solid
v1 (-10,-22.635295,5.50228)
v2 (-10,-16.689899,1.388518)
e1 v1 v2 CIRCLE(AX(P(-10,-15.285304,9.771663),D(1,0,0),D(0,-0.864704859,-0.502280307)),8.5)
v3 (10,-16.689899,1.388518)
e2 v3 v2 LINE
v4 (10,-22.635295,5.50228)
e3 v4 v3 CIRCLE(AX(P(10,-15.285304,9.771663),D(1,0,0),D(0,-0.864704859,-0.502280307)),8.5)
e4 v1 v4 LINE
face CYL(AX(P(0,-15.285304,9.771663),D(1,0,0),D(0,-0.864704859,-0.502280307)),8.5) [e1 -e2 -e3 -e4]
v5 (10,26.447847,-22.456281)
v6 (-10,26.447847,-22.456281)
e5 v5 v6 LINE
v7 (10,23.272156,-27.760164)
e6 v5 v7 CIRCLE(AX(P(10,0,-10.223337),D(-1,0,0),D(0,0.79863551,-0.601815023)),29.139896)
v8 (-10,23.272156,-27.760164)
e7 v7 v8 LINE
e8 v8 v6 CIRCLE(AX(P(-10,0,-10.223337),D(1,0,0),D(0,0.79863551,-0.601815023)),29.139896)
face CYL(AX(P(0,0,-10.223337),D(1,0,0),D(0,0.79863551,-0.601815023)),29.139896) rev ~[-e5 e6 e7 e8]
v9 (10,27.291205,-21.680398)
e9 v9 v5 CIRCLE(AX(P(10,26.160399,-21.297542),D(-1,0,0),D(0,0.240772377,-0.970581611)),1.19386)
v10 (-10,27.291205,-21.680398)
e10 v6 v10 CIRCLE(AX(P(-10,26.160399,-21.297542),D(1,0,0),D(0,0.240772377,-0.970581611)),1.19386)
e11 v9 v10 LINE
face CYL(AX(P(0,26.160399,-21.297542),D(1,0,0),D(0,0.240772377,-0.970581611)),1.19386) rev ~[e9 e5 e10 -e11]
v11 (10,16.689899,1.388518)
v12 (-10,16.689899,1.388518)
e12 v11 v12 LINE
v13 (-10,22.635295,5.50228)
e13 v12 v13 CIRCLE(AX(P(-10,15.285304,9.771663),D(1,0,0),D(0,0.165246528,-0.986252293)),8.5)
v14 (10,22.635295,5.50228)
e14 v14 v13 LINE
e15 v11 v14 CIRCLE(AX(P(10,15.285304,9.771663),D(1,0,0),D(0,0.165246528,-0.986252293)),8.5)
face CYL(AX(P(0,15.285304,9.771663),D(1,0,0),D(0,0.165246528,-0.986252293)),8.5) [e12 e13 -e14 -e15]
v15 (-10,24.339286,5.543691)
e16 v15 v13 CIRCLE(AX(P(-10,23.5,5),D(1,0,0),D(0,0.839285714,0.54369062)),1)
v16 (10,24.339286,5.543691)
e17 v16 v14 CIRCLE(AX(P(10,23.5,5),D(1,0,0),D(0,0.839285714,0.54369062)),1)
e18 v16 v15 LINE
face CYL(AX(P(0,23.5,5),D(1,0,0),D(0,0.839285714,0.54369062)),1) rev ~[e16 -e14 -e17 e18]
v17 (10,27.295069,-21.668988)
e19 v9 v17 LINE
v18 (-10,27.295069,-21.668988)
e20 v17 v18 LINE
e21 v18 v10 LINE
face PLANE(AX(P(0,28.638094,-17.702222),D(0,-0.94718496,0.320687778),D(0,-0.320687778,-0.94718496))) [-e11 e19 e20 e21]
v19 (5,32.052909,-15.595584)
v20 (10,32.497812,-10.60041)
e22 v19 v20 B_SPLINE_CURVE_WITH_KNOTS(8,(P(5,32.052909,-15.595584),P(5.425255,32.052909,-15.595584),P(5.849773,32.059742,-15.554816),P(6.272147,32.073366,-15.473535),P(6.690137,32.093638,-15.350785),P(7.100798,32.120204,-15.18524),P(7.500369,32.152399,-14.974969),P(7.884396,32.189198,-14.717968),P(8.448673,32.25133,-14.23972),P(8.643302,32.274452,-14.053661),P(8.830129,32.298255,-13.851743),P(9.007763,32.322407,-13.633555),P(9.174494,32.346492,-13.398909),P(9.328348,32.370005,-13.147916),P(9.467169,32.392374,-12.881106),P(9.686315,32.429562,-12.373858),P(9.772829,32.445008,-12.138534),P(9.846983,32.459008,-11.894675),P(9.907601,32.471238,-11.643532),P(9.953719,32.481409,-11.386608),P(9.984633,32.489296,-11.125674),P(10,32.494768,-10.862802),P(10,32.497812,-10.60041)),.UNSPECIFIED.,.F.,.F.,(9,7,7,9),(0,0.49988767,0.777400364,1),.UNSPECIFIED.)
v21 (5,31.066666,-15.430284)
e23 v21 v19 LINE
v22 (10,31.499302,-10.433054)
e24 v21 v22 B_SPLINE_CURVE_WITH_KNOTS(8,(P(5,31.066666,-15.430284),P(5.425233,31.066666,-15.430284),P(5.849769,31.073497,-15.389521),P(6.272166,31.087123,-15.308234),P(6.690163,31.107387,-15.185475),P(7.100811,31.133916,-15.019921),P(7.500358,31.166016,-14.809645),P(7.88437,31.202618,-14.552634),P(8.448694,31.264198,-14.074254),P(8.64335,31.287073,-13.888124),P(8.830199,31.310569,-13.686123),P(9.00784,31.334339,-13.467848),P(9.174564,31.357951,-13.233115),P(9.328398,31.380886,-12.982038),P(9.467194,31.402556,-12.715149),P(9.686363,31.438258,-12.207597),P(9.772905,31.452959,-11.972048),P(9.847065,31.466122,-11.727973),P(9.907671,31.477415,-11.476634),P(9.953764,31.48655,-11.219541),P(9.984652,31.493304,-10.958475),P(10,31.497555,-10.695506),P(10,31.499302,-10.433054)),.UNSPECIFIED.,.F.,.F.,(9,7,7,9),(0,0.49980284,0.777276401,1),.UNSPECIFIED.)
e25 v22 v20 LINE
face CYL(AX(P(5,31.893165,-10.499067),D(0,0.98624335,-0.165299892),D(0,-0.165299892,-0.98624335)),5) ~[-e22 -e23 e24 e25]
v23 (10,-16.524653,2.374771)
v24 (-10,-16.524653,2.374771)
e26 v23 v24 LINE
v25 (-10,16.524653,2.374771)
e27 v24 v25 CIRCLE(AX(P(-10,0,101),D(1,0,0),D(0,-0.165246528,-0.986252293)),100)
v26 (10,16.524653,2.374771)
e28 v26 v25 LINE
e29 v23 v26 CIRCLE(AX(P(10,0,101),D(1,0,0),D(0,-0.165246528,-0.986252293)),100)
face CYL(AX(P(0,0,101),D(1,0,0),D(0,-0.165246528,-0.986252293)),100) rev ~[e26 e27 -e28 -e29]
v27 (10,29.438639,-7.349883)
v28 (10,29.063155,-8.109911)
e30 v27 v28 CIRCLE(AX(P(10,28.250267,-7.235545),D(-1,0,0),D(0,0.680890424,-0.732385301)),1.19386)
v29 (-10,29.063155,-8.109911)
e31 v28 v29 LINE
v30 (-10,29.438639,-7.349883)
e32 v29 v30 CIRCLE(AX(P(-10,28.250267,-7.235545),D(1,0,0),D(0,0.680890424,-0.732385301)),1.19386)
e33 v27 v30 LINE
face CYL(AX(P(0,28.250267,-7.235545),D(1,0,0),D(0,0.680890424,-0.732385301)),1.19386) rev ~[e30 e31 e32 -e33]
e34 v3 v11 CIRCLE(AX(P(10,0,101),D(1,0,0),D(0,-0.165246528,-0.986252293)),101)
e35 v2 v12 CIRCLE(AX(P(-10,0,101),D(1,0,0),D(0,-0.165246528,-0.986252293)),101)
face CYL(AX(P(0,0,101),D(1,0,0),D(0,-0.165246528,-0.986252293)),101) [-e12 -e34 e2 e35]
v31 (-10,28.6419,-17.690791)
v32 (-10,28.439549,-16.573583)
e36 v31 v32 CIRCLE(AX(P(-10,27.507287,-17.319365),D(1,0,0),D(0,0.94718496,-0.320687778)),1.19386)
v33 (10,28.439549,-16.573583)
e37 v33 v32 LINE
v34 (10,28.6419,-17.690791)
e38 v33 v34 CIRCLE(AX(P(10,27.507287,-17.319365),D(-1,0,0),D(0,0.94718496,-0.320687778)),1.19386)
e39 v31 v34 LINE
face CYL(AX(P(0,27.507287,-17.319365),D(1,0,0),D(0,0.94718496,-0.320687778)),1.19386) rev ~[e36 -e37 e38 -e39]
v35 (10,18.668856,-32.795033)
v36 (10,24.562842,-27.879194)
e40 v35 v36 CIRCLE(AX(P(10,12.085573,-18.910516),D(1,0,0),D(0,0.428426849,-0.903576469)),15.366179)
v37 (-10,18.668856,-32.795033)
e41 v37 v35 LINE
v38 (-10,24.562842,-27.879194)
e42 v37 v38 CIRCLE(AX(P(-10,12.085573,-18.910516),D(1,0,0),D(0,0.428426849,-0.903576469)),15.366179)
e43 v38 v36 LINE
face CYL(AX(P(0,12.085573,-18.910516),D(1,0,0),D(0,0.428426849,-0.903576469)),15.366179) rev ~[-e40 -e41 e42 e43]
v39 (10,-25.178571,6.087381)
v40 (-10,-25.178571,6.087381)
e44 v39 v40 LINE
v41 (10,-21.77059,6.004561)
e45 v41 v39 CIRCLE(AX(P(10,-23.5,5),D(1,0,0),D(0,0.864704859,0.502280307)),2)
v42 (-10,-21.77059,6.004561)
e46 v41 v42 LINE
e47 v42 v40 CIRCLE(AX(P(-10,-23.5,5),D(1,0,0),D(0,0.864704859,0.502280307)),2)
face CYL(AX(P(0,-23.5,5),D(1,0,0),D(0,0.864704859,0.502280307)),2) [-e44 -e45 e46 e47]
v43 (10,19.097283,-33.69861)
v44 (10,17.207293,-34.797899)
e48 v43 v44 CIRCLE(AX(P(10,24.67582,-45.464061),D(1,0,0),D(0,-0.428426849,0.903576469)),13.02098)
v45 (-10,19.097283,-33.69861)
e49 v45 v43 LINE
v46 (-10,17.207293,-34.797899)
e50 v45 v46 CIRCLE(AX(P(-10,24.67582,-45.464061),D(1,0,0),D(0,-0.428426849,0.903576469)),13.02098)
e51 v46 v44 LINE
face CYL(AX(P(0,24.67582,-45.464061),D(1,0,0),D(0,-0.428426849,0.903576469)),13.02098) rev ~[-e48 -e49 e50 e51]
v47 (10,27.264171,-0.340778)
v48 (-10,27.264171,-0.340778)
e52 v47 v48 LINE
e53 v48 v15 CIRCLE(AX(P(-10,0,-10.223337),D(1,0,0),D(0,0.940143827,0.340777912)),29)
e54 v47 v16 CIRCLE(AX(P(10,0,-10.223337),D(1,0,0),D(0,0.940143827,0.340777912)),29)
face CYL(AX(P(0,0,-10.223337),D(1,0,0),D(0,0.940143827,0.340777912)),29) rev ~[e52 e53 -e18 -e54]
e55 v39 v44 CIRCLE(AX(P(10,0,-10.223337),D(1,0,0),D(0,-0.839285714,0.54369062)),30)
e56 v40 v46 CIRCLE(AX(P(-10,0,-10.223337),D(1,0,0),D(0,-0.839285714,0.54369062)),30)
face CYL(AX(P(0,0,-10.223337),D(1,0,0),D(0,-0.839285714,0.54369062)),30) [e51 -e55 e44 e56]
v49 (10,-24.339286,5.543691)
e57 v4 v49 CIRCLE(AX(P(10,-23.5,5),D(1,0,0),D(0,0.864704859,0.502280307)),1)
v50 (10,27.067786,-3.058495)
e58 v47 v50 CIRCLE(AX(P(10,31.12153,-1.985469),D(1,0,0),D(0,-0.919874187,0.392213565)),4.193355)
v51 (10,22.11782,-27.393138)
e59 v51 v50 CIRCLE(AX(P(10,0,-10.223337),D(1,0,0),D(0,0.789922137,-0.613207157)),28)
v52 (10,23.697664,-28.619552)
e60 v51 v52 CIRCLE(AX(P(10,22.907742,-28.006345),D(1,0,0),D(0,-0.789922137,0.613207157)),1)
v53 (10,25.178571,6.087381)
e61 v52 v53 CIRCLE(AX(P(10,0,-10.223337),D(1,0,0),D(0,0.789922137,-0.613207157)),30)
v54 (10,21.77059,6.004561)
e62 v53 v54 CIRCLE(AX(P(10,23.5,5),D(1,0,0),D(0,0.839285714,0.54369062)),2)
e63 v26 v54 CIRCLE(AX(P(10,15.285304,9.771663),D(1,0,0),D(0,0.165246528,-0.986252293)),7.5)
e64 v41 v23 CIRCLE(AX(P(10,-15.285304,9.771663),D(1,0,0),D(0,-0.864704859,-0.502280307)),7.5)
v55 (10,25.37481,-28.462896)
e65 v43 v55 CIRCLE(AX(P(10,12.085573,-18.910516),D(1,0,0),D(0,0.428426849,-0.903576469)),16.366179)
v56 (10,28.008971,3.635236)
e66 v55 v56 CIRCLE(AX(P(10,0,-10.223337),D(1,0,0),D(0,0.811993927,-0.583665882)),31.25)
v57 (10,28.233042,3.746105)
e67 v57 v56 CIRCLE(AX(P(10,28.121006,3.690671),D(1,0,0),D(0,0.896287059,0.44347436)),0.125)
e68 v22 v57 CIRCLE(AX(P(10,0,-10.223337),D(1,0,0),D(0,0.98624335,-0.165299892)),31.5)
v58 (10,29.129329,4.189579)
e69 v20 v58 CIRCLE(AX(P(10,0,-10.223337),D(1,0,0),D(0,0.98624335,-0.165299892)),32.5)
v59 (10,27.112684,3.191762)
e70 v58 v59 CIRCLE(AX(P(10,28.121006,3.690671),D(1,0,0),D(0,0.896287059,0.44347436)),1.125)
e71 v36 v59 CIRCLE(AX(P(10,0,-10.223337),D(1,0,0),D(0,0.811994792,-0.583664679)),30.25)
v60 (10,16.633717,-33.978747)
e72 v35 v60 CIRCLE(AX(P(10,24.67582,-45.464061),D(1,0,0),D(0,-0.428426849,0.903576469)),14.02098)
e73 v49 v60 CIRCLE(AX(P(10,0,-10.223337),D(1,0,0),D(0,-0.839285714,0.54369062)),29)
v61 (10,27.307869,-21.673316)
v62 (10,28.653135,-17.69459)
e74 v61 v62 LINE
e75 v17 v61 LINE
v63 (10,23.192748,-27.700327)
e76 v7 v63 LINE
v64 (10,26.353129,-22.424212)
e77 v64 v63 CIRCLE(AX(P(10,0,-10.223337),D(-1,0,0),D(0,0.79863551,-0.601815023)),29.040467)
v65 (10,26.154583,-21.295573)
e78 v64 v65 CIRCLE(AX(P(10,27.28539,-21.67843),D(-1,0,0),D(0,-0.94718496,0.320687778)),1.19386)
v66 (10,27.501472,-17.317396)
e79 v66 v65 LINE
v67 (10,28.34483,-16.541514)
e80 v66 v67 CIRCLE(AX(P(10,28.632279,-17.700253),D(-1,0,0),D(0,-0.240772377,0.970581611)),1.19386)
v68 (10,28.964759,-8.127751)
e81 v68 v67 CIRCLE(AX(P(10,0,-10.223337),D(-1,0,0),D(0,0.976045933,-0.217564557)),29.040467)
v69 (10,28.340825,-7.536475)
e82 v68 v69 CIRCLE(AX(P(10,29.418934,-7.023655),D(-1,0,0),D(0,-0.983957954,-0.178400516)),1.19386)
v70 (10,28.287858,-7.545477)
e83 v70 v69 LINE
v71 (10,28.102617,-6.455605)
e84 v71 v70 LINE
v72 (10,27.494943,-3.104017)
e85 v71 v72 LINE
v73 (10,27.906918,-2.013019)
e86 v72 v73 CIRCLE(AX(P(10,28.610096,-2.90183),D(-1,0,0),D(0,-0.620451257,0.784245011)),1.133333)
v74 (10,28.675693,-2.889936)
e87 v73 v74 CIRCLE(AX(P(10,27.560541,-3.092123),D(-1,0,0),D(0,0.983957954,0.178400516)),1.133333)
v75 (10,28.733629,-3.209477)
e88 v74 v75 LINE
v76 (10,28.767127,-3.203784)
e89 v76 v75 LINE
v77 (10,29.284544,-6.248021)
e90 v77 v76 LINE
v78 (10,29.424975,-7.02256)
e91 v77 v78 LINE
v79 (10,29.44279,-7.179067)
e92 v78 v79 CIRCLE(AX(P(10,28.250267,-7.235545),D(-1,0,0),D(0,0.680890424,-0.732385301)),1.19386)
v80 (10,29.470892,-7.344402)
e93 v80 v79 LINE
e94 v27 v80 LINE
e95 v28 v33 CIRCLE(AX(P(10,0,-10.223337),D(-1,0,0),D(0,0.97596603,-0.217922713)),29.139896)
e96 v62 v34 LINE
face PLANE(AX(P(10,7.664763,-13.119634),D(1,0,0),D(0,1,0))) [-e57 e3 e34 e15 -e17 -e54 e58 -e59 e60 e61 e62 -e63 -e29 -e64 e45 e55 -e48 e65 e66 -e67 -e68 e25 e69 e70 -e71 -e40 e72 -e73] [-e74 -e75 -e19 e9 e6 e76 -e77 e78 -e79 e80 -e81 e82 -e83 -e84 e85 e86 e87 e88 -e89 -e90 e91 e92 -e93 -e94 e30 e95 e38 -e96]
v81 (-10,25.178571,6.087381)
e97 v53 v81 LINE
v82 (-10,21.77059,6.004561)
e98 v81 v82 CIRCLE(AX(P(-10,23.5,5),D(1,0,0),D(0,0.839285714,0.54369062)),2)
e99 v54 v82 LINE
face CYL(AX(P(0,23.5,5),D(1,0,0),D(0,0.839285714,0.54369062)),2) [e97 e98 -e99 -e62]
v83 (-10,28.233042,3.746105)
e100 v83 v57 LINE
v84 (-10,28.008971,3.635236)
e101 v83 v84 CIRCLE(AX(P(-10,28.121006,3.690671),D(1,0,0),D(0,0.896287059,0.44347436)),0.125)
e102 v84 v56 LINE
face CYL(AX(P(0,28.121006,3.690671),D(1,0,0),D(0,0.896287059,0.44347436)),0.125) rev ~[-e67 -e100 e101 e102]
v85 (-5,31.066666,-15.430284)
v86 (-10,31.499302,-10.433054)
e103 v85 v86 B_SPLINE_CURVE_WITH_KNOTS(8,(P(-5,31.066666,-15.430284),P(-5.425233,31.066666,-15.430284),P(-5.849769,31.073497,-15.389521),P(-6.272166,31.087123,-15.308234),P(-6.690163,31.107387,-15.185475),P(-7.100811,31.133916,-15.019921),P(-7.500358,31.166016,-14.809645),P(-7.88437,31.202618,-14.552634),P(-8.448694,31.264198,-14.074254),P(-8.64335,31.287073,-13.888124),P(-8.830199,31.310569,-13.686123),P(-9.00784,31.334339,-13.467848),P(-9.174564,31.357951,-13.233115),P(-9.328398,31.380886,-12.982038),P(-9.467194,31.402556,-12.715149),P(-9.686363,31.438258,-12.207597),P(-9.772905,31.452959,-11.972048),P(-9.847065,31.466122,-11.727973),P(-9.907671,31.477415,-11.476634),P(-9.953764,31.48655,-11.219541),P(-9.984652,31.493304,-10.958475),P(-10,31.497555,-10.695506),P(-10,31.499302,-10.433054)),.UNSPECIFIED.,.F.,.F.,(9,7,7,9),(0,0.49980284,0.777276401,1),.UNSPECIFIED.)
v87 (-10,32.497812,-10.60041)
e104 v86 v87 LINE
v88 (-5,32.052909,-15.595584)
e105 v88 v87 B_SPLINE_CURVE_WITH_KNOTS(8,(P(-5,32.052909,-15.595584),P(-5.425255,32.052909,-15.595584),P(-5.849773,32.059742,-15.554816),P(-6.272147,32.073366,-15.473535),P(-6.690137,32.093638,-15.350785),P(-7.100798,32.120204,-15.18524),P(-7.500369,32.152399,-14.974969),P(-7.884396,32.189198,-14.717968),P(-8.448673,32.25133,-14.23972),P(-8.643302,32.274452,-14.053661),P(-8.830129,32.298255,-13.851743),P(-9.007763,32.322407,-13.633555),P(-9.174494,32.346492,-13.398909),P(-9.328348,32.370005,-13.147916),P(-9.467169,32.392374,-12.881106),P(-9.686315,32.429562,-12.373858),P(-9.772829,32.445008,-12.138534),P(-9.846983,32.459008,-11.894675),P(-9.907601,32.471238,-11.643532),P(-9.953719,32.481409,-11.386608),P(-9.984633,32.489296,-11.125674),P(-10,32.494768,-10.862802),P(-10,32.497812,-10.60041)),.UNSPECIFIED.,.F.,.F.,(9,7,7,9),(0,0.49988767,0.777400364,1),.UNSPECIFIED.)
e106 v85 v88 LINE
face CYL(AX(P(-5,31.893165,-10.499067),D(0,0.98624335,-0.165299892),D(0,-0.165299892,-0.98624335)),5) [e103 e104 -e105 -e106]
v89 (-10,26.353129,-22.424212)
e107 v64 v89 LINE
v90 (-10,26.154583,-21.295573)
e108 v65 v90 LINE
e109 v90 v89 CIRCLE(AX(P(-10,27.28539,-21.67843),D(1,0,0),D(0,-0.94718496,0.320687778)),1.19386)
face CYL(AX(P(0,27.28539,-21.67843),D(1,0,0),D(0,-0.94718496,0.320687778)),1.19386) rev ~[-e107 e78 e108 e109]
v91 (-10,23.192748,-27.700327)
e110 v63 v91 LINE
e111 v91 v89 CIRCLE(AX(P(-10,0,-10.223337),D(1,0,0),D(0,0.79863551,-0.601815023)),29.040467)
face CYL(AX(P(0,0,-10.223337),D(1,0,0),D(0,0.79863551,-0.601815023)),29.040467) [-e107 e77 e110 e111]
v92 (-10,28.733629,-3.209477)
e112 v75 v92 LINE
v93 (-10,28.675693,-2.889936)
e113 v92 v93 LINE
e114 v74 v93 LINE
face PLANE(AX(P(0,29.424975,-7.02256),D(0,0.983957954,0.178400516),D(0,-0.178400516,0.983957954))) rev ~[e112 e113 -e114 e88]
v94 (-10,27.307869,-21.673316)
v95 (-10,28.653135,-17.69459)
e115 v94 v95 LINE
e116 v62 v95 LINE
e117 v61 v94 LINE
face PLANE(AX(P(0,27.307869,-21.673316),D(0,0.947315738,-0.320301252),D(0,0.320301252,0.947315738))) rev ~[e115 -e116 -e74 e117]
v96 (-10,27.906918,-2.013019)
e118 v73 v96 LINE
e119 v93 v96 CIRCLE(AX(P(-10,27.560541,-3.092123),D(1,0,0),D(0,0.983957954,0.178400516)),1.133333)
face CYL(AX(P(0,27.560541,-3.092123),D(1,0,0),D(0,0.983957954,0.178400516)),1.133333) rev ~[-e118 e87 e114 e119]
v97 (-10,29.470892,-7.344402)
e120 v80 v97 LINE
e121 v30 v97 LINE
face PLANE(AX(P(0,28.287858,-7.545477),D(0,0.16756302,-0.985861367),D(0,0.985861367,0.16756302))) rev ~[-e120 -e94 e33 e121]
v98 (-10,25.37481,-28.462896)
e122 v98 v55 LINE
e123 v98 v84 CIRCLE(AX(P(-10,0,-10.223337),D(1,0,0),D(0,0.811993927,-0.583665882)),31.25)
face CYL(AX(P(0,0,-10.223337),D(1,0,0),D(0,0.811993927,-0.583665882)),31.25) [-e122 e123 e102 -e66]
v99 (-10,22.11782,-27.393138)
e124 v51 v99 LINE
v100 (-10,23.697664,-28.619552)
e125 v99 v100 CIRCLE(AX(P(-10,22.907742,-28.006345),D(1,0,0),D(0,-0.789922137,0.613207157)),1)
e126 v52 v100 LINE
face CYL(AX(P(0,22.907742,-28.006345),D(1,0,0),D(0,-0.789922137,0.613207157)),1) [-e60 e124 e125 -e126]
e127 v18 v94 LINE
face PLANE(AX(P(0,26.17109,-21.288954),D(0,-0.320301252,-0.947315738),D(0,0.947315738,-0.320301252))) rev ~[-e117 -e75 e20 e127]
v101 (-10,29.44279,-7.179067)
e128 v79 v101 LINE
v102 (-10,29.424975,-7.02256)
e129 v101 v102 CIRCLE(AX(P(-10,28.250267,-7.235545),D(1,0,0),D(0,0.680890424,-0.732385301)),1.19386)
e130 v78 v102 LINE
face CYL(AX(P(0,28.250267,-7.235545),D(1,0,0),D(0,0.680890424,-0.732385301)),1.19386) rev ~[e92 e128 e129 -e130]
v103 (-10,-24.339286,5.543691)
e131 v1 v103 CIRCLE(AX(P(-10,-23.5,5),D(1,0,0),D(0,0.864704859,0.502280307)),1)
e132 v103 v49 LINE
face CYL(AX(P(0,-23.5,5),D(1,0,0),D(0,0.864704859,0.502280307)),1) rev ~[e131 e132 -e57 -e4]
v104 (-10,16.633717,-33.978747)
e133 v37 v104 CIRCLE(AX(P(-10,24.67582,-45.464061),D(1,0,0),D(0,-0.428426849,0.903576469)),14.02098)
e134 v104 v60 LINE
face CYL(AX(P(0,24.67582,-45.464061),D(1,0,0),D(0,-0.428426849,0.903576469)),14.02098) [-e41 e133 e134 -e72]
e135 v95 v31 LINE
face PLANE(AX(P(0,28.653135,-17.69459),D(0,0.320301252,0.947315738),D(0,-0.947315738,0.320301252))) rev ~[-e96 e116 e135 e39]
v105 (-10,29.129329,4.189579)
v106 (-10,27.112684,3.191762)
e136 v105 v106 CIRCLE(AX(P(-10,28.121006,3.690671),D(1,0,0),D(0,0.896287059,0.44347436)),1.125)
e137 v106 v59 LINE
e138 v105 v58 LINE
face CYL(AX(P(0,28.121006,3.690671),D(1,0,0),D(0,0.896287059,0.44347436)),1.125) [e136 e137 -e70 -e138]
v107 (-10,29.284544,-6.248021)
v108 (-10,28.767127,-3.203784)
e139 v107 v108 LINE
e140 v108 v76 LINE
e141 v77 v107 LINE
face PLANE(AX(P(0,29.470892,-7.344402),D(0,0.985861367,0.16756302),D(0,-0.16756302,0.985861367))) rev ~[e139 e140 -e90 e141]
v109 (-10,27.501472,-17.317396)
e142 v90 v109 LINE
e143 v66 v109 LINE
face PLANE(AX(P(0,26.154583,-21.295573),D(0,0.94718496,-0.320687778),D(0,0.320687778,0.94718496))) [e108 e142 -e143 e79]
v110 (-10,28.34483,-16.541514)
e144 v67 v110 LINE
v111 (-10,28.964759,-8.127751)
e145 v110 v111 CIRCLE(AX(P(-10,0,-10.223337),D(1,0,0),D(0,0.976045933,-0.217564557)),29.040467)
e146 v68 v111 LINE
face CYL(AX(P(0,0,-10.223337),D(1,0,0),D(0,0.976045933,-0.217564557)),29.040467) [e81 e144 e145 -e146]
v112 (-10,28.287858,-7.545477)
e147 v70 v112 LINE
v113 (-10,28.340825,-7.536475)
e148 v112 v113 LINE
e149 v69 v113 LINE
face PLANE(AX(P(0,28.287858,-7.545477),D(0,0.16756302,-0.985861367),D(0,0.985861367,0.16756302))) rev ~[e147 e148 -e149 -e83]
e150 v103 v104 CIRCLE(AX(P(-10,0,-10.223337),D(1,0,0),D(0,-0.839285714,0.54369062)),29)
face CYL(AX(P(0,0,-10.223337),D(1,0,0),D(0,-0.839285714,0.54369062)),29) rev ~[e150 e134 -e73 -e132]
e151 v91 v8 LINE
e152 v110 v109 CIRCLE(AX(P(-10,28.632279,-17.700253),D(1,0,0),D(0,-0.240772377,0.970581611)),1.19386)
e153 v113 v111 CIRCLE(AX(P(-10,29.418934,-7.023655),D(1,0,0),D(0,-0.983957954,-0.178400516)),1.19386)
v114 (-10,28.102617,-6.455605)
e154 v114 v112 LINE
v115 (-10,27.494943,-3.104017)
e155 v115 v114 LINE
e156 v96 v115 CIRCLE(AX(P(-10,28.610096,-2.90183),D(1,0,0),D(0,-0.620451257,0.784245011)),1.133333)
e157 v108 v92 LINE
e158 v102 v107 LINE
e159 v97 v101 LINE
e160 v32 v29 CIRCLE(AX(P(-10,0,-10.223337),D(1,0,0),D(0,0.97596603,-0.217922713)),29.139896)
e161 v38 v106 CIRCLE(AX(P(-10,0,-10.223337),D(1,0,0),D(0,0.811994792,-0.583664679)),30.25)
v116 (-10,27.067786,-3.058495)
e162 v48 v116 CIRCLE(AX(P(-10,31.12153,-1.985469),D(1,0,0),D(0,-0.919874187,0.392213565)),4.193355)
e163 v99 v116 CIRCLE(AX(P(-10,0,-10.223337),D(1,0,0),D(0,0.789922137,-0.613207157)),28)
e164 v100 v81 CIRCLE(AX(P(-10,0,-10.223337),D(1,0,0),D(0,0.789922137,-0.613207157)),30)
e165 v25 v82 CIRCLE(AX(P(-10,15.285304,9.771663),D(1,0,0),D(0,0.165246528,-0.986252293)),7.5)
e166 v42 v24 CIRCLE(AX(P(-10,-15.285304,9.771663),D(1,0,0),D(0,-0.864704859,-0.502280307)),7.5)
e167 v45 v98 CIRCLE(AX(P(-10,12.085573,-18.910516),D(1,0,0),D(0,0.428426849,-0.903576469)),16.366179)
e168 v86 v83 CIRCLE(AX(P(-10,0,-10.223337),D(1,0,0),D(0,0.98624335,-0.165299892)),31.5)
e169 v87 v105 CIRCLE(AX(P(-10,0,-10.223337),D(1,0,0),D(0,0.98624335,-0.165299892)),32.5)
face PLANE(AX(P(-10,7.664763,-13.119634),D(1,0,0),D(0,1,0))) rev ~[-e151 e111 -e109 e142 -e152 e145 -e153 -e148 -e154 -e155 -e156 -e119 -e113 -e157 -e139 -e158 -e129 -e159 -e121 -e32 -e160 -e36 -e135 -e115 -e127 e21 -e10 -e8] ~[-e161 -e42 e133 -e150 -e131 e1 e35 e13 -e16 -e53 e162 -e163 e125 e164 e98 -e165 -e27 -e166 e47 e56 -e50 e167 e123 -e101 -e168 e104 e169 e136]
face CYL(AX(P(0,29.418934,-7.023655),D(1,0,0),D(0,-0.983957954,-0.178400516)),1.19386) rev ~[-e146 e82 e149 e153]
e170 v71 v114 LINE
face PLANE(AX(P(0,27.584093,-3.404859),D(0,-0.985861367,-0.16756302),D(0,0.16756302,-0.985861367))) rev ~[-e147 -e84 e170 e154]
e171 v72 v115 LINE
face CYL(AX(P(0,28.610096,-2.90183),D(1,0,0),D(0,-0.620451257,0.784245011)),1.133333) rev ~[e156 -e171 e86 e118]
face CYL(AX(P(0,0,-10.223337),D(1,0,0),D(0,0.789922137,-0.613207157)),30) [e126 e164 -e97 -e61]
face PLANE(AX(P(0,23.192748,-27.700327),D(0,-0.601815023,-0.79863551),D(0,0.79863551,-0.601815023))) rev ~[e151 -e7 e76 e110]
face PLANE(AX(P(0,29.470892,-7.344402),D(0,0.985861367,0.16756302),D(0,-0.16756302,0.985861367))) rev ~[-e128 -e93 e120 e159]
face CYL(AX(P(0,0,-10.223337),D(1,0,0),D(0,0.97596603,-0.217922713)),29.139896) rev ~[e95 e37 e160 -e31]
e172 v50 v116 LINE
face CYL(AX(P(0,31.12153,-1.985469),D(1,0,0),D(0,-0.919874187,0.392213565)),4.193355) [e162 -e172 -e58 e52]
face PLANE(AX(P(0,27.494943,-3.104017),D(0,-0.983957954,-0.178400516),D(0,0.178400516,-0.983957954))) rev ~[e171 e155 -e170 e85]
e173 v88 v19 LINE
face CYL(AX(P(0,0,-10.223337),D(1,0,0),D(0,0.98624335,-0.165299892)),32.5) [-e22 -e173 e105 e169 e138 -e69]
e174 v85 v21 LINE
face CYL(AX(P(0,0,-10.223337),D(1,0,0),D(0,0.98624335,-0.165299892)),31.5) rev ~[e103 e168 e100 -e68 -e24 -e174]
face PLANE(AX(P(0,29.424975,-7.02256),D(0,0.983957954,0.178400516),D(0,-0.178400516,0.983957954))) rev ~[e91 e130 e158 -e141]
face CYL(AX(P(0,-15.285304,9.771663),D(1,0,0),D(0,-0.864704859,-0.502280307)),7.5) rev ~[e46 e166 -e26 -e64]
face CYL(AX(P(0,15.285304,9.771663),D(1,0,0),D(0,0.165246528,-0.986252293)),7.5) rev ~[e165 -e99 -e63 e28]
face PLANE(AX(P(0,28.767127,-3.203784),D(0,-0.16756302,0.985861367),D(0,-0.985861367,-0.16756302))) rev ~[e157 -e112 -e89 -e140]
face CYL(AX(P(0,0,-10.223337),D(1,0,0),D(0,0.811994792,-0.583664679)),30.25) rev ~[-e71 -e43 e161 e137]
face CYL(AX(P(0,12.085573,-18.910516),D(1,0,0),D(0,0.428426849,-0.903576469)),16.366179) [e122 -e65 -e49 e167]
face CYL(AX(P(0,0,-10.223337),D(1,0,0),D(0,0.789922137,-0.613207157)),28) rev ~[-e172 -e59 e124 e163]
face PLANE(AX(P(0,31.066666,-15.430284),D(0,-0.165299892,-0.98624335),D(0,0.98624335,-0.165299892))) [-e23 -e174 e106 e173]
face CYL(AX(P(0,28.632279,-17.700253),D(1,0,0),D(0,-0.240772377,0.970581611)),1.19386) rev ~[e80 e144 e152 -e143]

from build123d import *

# Parameters (mm, degrees)
PAD_DEPTH            = 10
POCKET004_DEPTH      = 10.001
POCKET004_DEPTH_BACK = 10.001
FILLET_R             = 5


with BuildPart() as part:
    # Sketch031 → Pad (new body, symmetric)
    with BuildSketch(Plane.YZ):
        with BuildLine():
            ThreePointArc((-25.1785714286, 6.0873812391), (-20.8275502166, -31.8153069654), (17.2072930905, -34.7978986763))
            ThreePointArc((19.0972829456, -33.698609943), (18.1291736499, -34.2085141395), (17.2072930905, -34.7978986763))
            ThreePointArc((19.0972829456, -33.698609943), (22.5681914002, -31.4789887478), (25.3748102311, -28.4628961617))
            ThreePointArc((25.3748102311, -28.4628961617), (31.145297274, -12.7793024717), (28.0089705885, 3.6352364091))
            ThreePointArc((28.2330423532, 3.7461049992), (28.0655721758, 3.8027065865), (28.0089705885, 3.6352364091))
            ThreePointArc((31.066665528, -15.4302839547), (31.1616320501, -5.6186996886), (28.2330423532, 3.7461049992))
            Line((31.066665528, -15.4302839547), (32.0529088781, -15.595583847))
            ThreePointArc((32.0529088781, -15.595583847), (32.1508902105, -5.4725207152), (29.129329412, 4.1895793594))
            ThreePointArc((29.129329412, 4.1895793594), (27.6220978156, 4.6989936454), (27.1126835297, 3.1917620489))
            ThreePointArc((24.5628424703, -27.8791938768), (30.1486495946, -12.6974892471), (27.1126835297, 3.1917620489))
            ThreePointArc((18.6688560963, -32.7950334743), (21.9277036404, -30.7110203695), (24.5628424703, -27.8791938768))
            ThreePointArc((18.6688560963, -32.7950334743), (17.6263968436, -33.3440978723), (16.6337166542, -33.978746632))
            ThreePointArc((-24.3392857143, 5.5436906196), (-20.1332985427, -31.0955746448), (16.6337166542, -33.978746632))
            ThreePointArc((-22.6352951412, 5.5022803073), (-23.4757052121, 5.9997048381), (-24.3392857143, 5.5436906196))
            ThreePointArc((-22.6352951412, 5.5022803073), (-20.1217753495, 2.7817742688), (-16.6898993292, 1.3885184309))
            ThreePointArc((-16.6898993292, 1.3885184309), (0, 0), (16.6898993292, 1.3885184309))
            ThreePointArc((16.6898993292, 1.3885184309), (20.1217753495, 2.7817742688), (22.6352951412, 5.5022803073))
            ThreePointArc((24.3392857143, 5.5436906196), (23.4757052121, 5.9997048381), (22.6352951412, 5.5022803073))
            ThreePointArc((27.2641709757, -0.3407779116), (25.9689416046, 2.6845699939), (24.3392857143, 5.5436906196))
            ThreePointArc((27.2641709757, -0.3407779116), (26.9390804209, -1.6832404813), (27.0677858666, -3.0584948317))
            ThreePointArc((22.1178198442, -27.393137735), (27.4381060497, -15.80458599), (27.0677858666, -3.0584948317))
            ThreePointArc((22.1178198442, -27.393137735), (22.2945348248, -28.7962670289), (23.6976641188, -28.6195520483))
            ThreePointArc((23.6976641188, -28.6195520483), (29.9727276849, -11.5022412242), (25.1785714286, 6.0873812391))
            ThreePointArc((25.1785714286, 6.0873812391), (23.4514104243, 6.9994096762), (21.7705902823, 6.0045606146))
            ThreePointArc((16.5246528012, 2.3747707237), (19.5527787015, 3.6041141101), (21.7705902823, 6.0045606146))
            ThreePointArc((-16.5246528012, 2.3747707237), (0, 1), (16.5246528012, 2.3747707237))
            ThreePointArc((-21.7705902823, 6.0045606146), (-19.5527787015, 3.6041141101), (-16.5246528012, 2.3747707237))
            ThreePointArc((-21.7705902823, 6.0045606146), (-23.4514104243, 6.9994096762), (-25.1785714286, 6.0873812391))
        make_face()
        Polygon((27.5840933648, -3.4048594066), (28.2878580479, -7.5454771468), (29.4708916879, -7.3444015231), (28.7671270049, -3.2037837828), align=None, mode=Mode.SUBTRACT)
        Polygon((27.5163556374, -17.3102281064), (26.1710903804, -21.2889542076), (27.3078692665, -21.6733157096), (28.6531345235, -17.6945896084), align=None, mode=Mode.SUBTRACT)
    extrude(amount=PAD_DEPTH, both=True)

    # Sketch039 → Pocket004 (cut, two sides)
    with BuildSketch(Plane.YZ) as pocket004_sk:
        with BuildLine():
            Line((27.4949433361, -3.1040168152), (28.2442255017, -7.2366402237))
            ThreePointArc((28.2442255017, -7.2366402237), (28.4905833373, -7.7742998522), (28.964758919, -8.1277508063))
            ThreePointArc((28.3448300239, -16.5415137543), (28.9619594976, -12.3572643032), (28.964758919, -8.1277508063))
            ThreePointArc((28.3448300239, -16.5415137543), (27.8239715042, -16.8216502598), (27.501471991, -17.3173962868))
            Line((26.1545833247, -21.2955731206), (27.501471991, -17.3173962868))
            ThreePointArc((26.1545833247, -21.2955731206), (26.1095843724, -21.8852723266), (26.3531287482, -22.4242122085))
            ThreePointArc((23.1927484305, -27.7003268604), (24.9130052946, -25.1461691628), (26.3531287482, -22.4242122085))
            Line((23.1927484305, -27.7003268604), (23.2721556366, -27.7601644822))
            ThreePointArc((23.2721556366, -27.7601644822), (25.001049311, -25.1926749171), (26.4478472443, -22.4562809862))
            ThreePointArc((26.4478472443, -22.4562809862), (26.968705764, -22.1761444807), (27.2912052772, -21.6803984538))
            Line((28.6380939435, -17.70222162), (27.2912052772, -21.6803984538))
            ThreePointArc((28.6380939435, -17.70222162), (28.6830928958, -17.112522414), (28.43954852, -16.5735825321))
            ThreePointArc((28.43954852, -16.5735825321), (29.0611192972, -12.3645704307), (29.0631547145, -8.1099107548))
            ThreePointArc((29.0631547145, -8.1099107548), (29.3830587907, -7.6124859451), (29.424975047, -7.022559605))
            Line((29.424975047, -7.022559605), (28.6756928814, -2.8899361965))
            ThreePointArc((28.6756928814, -2.8899361965), (28.4127513004, -2.3450081602), (27.9069175932, -2.0130185515))
            ThreePointArc((27.9069175932, -2.0130185515), (27.5498359522, -2.5014625518), (27.4949433361, -3.1040168152))
        make_face()
    extrude(amount=-POCKET004_DEPTH, mode=Mode.SUBTRACT)
    extrude(pocket004_sk.sketch, amount=POCKET004_DEPTH_BACK, mode=Mode.SUBTRACT)

    # Fillet
    fillet_edges = [part.edges().sort_by_distance(p)[0] for p in [
        (10, 31.559787, -15.512934),
        (-10, 31.559787, -15.512934),
    ]]
    fillet(fillet_edges, radius=FILLET_R)


solid = part.part
